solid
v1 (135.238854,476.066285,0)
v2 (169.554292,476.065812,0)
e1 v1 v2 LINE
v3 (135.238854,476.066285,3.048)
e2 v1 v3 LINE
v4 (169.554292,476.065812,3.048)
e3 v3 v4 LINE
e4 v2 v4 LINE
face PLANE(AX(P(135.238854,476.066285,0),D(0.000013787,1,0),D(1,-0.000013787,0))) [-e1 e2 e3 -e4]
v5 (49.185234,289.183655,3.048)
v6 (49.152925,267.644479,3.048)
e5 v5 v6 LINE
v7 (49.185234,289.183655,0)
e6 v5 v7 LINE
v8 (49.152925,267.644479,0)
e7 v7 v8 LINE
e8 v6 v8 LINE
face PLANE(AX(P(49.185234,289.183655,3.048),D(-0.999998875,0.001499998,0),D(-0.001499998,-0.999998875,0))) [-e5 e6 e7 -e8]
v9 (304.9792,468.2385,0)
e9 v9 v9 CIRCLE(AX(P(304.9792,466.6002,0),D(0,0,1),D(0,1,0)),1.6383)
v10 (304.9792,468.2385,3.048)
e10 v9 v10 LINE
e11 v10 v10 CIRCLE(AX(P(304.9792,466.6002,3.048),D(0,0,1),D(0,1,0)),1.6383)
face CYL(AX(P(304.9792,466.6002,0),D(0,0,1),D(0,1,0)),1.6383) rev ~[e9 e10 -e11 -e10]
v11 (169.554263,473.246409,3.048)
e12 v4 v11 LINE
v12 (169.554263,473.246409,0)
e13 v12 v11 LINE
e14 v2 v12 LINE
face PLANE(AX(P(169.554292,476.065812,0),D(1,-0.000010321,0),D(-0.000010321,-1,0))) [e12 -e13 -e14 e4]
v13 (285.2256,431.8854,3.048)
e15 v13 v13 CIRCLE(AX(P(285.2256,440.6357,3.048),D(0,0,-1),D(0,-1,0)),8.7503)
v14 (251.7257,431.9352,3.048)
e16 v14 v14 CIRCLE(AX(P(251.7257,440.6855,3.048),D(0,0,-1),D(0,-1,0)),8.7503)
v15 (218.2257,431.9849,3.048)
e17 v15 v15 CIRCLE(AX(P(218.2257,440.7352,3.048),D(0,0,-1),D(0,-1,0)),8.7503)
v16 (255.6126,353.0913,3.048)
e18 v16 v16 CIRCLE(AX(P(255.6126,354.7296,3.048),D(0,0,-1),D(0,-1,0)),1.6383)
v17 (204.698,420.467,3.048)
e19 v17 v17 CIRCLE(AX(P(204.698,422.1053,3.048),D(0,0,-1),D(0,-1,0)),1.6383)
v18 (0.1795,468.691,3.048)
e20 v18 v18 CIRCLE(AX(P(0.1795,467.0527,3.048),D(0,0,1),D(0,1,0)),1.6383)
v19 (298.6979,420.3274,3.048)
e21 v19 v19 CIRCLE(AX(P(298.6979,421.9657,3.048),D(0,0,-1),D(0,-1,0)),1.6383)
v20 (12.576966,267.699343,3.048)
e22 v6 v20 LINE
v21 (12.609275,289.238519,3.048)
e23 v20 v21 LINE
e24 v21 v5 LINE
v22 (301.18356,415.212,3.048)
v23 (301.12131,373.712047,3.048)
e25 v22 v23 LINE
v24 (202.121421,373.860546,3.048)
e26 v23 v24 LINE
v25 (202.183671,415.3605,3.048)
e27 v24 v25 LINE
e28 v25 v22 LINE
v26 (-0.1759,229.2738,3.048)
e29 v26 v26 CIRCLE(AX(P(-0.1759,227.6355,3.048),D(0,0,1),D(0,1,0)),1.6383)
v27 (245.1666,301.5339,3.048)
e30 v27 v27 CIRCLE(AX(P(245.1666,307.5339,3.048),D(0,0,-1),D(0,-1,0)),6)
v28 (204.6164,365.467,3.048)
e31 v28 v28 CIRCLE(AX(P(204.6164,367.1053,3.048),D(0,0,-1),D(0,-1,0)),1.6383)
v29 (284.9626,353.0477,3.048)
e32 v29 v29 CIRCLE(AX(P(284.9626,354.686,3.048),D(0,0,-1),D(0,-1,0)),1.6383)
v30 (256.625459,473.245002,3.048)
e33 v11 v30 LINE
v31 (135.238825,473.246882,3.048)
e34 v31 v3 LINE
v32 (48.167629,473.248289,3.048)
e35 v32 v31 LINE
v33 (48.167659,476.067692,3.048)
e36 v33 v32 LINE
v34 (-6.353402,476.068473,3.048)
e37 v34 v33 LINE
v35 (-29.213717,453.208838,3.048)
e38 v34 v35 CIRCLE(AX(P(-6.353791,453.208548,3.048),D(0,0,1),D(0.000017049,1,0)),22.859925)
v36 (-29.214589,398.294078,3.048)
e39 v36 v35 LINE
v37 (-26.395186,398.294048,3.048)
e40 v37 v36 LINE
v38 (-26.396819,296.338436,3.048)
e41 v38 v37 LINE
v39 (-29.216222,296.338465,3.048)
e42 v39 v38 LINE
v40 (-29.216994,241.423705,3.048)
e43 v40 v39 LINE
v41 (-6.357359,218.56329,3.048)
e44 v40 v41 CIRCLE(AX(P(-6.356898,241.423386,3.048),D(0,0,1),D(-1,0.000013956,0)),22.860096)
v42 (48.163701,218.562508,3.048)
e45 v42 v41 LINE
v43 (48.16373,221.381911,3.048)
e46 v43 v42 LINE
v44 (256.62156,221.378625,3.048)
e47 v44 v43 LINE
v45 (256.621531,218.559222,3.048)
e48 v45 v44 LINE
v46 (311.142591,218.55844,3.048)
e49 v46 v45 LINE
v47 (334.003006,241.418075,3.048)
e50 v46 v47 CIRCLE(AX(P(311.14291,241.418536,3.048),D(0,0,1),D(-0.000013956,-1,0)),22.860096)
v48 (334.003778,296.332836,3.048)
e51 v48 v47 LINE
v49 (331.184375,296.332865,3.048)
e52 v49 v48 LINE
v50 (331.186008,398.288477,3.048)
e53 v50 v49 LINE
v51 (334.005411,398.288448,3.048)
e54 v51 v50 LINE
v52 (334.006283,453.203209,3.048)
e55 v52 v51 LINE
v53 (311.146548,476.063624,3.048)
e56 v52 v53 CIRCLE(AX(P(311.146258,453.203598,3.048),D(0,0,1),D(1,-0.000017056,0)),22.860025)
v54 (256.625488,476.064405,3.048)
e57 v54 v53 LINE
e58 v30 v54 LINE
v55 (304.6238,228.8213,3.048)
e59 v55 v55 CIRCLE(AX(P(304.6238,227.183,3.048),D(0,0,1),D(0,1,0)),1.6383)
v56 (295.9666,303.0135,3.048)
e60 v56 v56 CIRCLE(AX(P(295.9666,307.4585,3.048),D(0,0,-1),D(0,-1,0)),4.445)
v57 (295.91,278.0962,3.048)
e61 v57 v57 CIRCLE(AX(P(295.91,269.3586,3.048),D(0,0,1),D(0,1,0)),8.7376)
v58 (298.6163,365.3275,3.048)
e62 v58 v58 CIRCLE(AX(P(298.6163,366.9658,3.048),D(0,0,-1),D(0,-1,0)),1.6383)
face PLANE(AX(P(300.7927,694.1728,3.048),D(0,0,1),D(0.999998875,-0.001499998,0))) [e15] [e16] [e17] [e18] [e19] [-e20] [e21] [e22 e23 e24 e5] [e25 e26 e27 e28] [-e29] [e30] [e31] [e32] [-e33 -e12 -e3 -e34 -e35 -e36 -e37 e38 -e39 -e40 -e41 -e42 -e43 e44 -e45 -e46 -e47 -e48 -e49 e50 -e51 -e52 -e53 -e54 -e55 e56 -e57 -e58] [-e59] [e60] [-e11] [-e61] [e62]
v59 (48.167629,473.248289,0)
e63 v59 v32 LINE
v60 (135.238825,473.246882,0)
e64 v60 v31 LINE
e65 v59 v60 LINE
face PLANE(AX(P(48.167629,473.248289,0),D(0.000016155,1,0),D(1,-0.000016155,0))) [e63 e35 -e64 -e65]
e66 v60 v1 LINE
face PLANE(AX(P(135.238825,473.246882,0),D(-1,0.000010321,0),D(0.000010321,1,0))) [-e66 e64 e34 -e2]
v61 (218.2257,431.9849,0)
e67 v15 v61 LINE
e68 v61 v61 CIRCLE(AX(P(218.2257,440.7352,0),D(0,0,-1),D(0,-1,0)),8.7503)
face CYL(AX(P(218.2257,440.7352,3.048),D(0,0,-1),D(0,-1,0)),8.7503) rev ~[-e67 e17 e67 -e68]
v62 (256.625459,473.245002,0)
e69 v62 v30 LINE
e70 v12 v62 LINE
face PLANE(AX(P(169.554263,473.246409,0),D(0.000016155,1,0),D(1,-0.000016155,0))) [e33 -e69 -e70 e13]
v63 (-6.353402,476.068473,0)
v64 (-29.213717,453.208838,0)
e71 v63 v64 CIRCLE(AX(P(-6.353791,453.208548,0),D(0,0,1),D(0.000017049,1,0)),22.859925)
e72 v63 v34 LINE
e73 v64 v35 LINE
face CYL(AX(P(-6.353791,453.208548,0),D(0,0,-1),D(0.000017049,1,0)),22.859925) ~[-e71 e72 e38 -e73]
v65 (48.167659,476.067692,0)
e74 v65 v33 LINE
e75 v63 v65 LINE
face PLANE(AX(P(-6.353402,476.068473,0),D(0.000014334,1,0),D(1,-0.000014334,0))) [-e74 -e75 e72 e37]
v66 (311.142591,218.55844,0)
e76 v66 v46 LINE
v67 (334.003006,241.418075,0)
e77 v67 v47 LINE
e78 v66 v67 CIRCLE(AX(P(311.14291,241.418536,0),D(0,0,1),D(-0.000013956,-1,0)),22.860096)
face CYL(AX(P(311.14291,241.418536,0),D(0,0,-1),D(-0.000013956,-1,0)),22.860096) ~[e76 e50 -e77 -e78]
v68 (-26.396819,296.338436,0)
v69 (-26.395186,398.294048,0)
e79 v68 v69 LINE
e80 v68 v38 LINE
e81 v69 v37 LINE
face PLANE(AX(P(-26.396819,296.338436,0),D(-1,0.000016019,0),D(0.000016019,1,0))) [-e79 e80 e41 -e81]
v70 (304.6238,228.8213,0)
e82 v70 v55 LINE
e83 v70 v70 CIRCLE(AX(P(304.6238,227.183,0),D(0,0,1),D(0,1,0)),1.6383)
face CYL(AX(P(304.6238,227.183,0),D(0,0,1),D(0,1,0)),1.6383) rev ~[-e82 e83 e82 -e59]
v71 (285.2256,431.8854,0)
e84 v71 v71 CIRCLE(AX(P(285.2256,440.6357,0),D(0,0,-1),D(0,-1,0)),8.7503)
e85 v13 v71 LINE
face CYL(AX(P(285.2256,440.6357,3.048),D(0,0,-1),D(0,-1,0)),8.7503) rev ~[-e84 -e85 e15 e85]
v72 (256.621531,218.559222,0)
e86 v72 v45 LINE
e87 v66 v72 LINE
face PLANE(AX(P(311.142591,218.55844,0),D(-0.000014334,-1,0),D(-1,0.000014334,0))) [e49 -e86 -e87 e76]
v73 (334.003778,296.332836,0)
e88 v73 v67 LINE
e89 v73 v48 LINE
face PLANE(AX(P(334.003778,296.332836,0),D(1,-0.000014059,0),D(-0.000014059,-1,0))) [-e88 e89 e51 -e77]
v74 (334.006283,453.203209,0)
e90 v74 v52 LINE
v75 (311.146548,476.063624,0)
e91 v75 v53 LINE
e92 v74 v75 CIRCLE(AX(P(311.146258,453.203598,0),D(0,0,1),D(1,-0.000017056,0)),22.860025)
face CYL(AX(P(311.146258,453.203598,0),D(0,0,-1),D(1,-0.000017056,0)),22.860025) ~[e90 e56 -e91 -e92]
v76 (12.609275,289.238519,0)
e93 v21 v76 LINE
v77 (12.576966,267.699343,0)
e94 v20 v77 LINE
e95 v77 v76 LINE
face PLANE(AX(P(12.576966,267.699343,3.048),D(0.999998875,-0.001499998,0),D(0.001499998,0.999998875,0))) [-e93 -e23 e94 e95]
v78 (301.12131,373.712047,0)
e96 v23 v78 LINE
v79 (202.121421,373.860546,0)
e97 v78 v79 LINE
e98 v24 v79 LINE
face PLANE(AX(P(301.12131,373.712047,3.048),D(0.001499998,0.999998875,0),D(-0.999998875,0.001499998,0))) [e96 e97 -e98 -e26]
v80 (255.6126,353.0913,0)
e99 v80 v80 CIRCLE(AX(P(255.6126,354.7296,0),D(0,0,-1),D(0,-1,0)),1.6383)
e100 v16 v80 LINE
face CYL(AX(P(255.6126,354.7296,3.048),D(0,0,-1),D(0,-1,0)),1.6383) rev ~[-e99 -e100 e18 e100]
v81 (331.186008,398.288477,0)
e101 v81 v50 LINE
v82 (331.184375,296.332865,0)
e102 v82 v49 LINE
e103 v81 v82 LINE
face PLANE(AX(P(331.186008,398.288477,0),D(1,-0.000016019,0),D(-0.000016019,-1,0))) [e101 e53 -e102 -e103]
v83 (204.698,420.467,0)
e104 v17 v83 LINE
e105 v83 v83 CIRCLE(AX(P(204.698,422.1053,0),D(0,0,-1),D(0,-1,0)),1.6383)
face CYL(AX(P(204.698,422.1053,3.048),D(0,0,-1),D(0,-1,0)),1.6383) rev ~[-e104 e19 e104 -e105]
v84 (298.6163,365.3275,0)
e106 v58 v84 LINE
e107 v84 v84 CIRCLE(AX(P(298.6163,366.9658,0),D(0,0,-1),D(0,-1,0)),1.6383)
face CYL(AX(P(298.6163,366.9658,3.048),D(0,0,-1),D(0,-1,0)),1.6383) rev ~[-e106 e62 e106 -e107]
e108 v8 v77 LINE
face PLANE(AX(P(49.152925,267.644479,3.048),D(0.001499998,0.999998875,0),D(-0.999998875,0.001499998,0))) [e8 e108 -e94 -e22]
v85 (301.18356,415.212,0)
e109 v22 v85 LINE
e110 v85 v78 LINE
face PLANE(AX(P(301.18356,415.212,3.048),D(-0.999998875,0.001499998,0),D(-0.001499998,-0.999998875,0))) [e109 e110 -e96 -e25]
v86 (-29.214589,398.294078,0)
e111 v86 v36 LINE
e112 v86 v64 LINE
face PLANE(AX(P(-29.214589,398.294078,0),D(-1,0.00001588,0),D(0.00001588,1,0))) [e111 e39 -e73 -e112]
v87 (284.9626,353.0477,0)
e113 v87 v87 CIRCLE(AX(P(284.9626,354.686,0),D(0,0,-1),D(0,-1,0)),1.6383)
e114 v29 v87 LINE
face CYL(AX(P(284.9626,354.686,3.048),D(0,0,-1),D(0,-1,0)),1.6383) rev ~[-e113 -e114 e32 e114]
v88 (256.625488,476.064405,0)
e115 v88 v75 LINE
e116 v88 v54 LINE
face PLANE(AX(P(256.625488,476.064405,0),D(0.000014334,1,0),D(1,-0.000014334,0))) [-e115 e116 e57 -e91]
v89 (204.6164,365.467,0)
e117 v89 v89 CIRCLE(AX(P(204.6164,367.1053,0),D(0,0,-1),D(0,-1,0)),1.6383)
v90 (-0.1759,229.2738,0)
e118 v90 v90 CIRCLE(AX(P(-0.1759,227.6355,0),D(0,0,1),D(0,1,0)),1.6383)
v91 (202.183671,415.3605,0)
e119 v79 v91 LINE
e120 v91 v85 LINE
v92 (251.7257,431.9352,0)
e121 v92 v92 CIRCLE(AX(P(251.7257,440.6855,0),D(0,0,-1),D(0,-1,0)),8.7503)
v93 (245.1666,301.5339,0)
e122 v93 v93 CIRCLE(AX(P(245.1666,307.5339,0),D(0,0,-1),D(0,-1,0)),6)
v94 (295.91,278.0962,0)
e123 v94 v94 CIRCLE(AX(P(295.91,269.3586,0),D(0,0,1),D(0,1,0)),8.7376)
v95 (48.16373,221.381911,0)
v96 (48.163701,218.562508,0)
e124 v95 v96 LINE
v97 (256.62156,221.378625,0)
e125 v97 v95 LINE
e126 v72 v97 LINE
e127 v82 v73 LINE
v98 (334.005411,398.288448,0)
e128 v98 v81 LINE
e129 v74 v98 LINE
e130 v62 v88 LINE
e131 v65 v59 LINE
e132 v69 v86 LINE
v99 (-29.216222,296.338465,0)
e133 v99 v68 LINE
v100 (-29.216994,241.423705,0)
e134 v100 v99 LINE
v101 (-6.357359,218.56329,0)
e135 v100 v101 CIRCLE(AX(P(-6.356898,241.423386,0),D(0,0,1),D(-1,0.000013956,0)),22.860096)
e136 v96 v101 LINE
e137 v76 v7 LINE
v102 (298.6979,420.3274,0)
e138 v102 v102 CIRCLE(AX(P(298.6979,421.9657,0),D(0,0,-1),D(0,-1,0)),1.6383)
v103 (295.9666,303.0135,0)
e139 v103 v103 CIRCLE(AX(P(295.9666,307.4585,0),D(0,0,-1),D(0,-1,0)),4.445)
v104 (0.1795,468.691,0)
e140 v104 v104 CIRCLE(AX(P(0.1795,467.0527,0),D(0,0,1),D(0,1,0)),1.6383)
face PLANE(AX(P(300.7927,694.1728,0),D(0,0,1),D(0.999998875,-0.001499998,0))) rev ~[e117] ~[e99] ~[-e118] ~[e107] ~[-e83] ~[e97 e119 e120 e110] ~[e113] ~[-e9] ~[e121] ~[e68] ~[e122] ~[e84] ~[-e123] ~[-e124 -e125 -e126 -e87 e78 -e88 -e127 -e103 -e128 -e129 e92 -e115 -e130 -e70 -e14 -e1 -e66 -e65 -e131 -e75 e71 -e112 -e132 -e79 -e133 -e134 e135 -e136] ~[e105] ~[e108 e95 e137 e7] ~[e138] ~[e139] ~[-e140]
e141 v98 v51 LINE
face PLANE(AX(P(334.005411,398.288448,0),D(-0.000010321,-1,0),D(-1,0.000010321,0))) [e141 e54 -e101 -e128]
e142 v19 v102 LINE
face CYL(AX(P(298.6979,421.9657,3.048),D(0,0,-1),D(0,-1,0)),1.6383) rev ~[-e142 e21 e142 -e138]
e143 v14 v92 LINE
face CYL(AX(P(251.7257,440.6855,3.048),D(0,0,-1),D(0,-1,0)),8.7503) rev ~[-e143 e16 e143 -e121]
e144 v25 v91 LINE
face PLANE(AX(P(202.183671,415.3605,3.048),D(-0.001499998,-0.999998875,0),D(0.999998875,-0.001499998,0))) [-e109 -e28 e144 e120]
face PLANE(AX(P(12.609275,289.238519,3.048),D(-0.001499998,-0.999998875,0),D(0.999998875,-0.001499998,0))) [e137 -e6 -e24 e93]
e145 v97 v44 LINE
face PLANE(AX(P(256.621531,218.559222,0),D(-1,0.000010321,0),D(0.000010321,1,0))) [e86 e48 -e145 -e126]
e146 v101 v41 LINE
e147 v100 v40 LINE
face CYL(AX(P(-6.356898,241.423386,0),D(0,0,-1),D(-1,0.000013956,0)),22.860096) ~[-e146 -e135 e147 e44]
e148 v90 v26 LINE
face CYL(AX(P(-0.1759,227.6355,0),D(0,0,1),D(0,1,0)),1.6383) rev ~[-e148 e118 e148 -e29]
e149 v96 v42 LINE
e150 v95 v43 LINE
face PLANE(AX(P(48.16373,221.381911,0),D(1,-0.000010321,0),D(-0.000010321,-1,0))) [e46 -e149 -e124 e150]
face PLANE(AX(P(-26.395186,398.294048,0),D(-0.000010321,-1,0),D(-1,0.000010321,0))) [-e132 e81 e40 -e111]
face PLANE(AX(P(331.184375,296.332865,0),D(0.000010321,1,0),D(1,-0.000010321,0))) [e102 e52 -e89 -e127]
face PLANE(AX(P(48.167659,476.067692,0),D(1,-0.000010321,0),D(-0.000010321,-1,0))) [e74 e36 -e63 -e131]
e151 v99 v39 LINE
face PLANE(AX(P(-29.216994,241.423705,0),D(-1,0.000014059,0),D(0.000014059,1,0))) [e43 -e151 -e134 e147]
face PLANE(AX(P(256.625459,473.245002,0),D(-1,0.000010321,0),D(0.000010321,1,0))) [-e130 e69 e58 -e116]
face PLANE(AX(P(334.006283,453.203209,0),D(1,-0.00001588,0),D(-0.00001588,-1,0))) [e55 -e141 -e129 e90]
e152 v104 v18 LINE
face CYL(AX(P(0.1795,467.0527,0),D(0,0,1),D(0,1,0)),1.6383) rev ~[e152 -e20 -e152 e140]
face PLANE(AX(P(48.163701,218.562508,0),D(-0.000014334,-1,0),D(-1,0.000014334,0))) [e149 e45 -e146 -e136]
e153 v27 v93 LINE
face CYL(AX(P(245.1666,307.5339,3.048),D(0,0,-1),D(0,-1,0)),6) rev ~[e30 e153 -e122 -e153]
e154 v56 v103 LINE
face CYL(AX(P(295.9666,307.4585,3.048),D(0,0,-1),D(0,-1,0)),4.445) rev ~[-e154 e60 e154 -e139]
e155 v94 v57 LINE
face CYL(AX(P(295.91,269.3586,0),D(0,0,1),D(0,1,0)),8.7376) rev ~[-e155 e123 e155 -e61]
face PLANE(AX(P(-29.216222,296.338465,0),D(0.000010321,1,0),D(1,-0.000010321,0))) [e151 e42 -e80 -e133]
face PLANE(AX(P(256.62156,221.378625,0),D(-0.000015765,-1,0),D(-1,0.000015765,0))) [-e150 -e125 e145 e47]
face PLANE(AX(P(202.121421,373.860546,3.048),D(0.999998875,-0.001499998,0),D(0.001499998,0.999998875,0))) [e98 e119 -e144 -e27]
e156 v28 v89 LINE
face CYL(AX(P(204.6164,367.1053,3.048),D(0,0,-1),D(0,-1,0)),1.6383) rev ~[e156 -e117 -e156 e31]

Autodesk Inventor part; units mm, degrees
ref_plane "YZ Plane" through (0, 0, 0) normal (1, 0, 0) x (0, 1, 0)
ref_plane "XZ Plane" through (0, 0, 0) normal (0, 1, 0) x (-1, 0, 0)
ref_plane "Work Plane1" through (300.7927, 694.1728, 0) normal (0, 0, 1) x (1, -0.0015, 0)
sketch "Sketch1" plane through (300.7927, 694.1728, 0) normal (0, 0, 1) x (1, -0.0015, 0)
  line L0 (11.0652, -476.8683) -> (-44.7258, -476.9512) construction
  arc A0 (11.0652, -476.8683) -> (35.1594, -452.7025) centre (11.0294, -452.7384) ccw construction
  line L1 (35.0759, -396.5178) -> (35.1594, -452.7025) construction
  line L2 (32.2566, -396.522) -> (35.0759, -396.5178) construction
  line L3 (32.109, -297.1065) -> (32.2566, -396.522) construction
  line L4 (34.9284, -297.1023) -> (32.109, -297.1065) construction
  line L5 (34.845, -240.9176) -> (34.9284, -297.1023) construction
  arc A1 (34.845, -240.9176) -> (10.6792, -216.8234) centre (10.715, -240.9534) ccw construction
  line L6 (-45.1119, -216.9062) -> (10.6792, -216.8234) construction
  line L7 (-45.1077, -219.7256) -> (-45.1119, -216.9062) construction
  line L8 (-129.6388, -219.8511) -> (-45.1077, -219.7256) construction
  line L9 (-129.643, -217.0317) -> (-129.6388, -219.8511) construction
  line L10 (-166.4983, -217.0864) -> (-129.643, -217.0317) construction
  line L11 (-166.4942, -219.9058) -> (-166.4983, -217.0864) construction
  line L12 (-251.0253, -220.0313) -> (-166.4942, -219.9058) construction
  line L13 (-251.0295, -217.2119) -> (-251.0253, -220.0313) construction
  line L14 (-306.8205, -217.2948) -> (-251.0295, -217.2119) construction
  arc A2 (-306.8205, -217.2948) -> (-330.9146, -241.4606) centre (-306.7847, -241.4247) ccw construction
  line L15 (-330.8312, -297.6453) -> (-330.9146, -241.4606) construction
  line L16 (-328.0118, -297.6411) -> (-330.8312, -297.6453) construction
  line L17 (-327.8643, -397.0566) -> (-328.0118, -297.6411) construction
  line L18 (-330.6836, -397.0608) -> (-327.8643, -397.0566) construction
  line L19 (-330.6002, -453.2455) -> (-330.6836, -397.0608) construction
  arc A3 (-330.6002, -453.2455) -> (-306.4344, -477.3397) centre (-306.4703, -453.2097) ccw construction
  line L20 (-250.6434, -477.2569) -> (-306.4344, -477.3397) construction
  line L21 (-250.6476, -474.4375) -> (-250.6434, -477.2569) construction
  line L22 (-44.73, -474.1318) -> (-250.6476, -474.4375) construction
  line L23 (-44.7258, -476.9512) -> (-44.73, -474.1318) construction
  circle A4 centre (4.6999, -466.5639) radius 1.0795 construction
  circle A5 centre (-300.0998, -467.0164) radius 1.0795 construction
  circle A6 centre (-300.4552, -227.5992) radius 1.0795 construction
  circle A7 centre (4.3445, -227.1467) radius 1.0795 construction
  line L24 (-251.9195, -473.1693) -> (-251.9153, -475.9887)
  line L25 (-251.9153, -475.9887) -> (-306.4363, -476.0697)
  arc A8 (-329.3302, -453.2436) -> (-306.4363, -476.0697) centre (-306.4703, -453.2097) ccw
  line L26 (-329.3302, -453.2436) -> (-329.4118, -398.3289)
  line L27 (-329.4118, -398.3289) -> (-326.5924, -398.3247)
  line L28 (-326.5924, -398.3247) -> (-326.7437, -296.3692)
  line L29 (-326.7437, -296.3692) -> (-329.5631, -296.3734)
  line L30 (-329.5631, -296.3734) -> (-329.6446, -241.4587)
  arc A9 (-306.8186, -218.5648) -> (-329.6446, -241.4587) centre (-306.7847, -241.4247) ccw
  line L31 (-306.8186, -218.5648) -> (-252.2976, -218.4838)
  line L32 (-252.2976, -218.4838) -> (-252.2934, -221.3032)
  line L33 (-252.2934, -221.3032) -> (-165.2223, -221.174)
  line L34 (-165.2223, -221.174) -> (-165.2265, -218.3546)
  line L35 (-165.2265, -218.3546) -> (-130.9111, -218.3036)
  line L36 (-130.9111, -218.3036) -> (-130.9069, -221.123)
  line L37 (-130.9069, -221.123) -> (-43.8358, -220.9938)
  line L38 (-43.8358, -220.9938) -> (-43.84, -218.1744)
  line L39 (-43.84, -218.1744) -> (10.681, -218.0934)
  arc A10 (33.575, -240.9195) -> (10.681, -218.0934) centre (10.715, -240.9534) ccw
  line L40 (33.575, -240.9195) -> (33.6565, -295.8342)
  line L41 (33.6565, -295.8342) -> (30.8371, -295.8384)
  line L42 (30.8371, -295.8384) -> (30.9884, -397.7939)
  line L43 (30.9884, -397.7939) -> (33.8078, -397.7897)
  line L44 (33.8078, -397.7897) -> (33.8894, -452.7044)
  arc A11 (11.0633, -475.5983) -> (33.8894, -452.7044) centre (11.0294, -452.7384) ccw
  line L45 (11.0633, -475.5983) -> (-43.4577, -475.6793)
  line L46 (-43.4577, -475.6793) -> (-43.4619, -472.8599)
  line L47 (-43.4619, -472.8599) -> (-251.9195, -473.1693)
  dimension "d32" = 1.27
extrude "Plate1" add sketch "Sketch1" along normal blind 3.048
sketch "Sketch3" plane through (300.7927, 694.1728, 0) normal (0, 0, -1) x (-1, 0.0015, 0)
  circle A0 centre (300.2757, -466.9836) radius 1.0795 construction
  circle A1 centre (-4.5243, -466.9836) radius 1.0795 construction
  circle A2 centre (-4.5243, -227.5661) radius 1.0795 construction
  circle A3 centre (300.2757, -227.5661) radius 1.0795 construction
  line L0 (-4.5243, -227.5661) -> (300.2757, -227.5661) construction
  line L1 (300.2757, -227.5661) -> (300.2757, -466.9836) construction
  line L2 (300.2757, -466.9836) -> (-4.5243, -466.9836) construction
  line L3 (-4.5243, -466.9836) -> (-4.5243, -227.5661) construction
  line L4 (326.5924, -398.3247) -> (326.7437, -296.3692) construction
  line L5 (326.668, -347.347) -> (300.2757, -347.2749) construction
  line L6 (43.4619, -472.8599) -> (251.9195, -473.1693) construction
  line L7 (165.2265, -218.3546) -> (130.9111, -218.3036) construction
  line L8 (-4.5243, -347.2749) -> (-30.9128, -346.8161) construction
  line L9 (-30.8371, -295.8384) -> (-30.9884, -397.7939) construction
  point P0 (152.4, -347.3112)
  dimension "d2" = 304.8
  dimension "d3" = 239.4175
hole "Mounting_Holes" at (0.1795, 467.0527, 0) at (-0.1759, 227.6355, 0) at (304.6238, 227.183, 0) at (304.9792, 466.6002, 0) direction (0, 0, 1) diameter 3.2766 end through all clearance for "Flat Head Machine Screw (82)" size "#4" standard "Ansi Unified Screw Threads"
sketch "Sketch4" plane through (300.7927, 694.1728, 0) normal (0, 0, -1) x (-1, 0.0015, 0)
  circle A0 centre (4.2521, -424.821) radius 10.541 construction
  line L0 (-33.575, -240.9195) -> (-33.6565, -295.8342) projected
  line L1 (43.84, -218.1744) -> (-10.681, -218.0934) projected
  line L2 (-11.0633, -475.5983) -> (43.4577, -475.6793) projected
  dimension "d11" = 21.082
  dimension "d33" = 38.1
  dimension "d86" = 50.8
hole "Power_Connector" at (295.91, 269.3586, 0) direction (0, 0, 1) diameter 17.4752 end through all thread size "1/2" designation "1/2 - 14 NPT" standard "NPT for PVC Pipe and Fitting"
sketch "Sketch7" plane through (300.7927, 694.1728, 3.048) normal (0, 0, 1) x (1, -0.0015, 0)
  line L0 (0.8093, -320.4599) -> (-98.1907, -320.4599)
  line L1 (-98.1907, -320.4599) -> (-98.1907, -278.9599)
  line L2 (-98.1907, -278.9599) -> (0.8093, -278.9599)
  line L3 (0.8093, -278.9599) -> (0.8093, -320.4599)
  line L4 (-165.2265, -218.3546) -> (-130.9111, -218.3036) construction
  line L5 (-43.4619, -472.8599) -> (-251.9195, -473.1693) construction
  line L6 (-43.4619, -472.8599) -> (-251.9195, -473.1693) construction
  line L7 (-147.6907, -473.0146) -> (-147.7272, -448.3951) construction
  point P0 (-299.7619, -694.6186)
  dimension "d40" = 99
  dimension "d41" = 41.5
  dimension "d80" = 152.4
  dimension "d81" = 49.5
extrude "LCD_Cutout" cut sketch "Sketch7" against normal through all
sketch "Sketch8" plane through (300.7927, 694.1728, 3.048) normal (0, 0, 1) x (1, -0.0015, 0)
  line L0 (-1.6907, -327.2099) -> (-95.6907, -327.2099) construction
  line L1 (-95.6907, -327.2099) -> (-95.6907, -272.2099) construction
  line L2 (-95.6907, -272.2099) -> (-1.6907, -272.2099) construction
  line L3 (-1.6907, -272.2099) -> (-1.6907, -327.2099) construction
  line L4 (-48.6907, -327.2099) -> (-48.6907, -320.4599) construction
  line L5 (0.8093, -320.4599) -> (-98.1907, -320.4599) construction
  line L6 (-98.1907, -278.9599) -> (0.8093, -278.9599) construction
  line L7 (-48.6907, -278.9599) -> (-48.6907, -272.2099) construction
  point P0 (-299.7619, -694.6186)
  dimension "d45" = 94
  dimension "d46" = 55
hole "LCD_Holes" at (298.6163, 366.9658, 3.048) at (204.6164, 367.1053, 3.048) at (204.698, 422.1053, 3.048) at (298.6979, 421.9657, 3.048) direction (0, 0, -1) diameter 3.2766 end through all clearance for "Socket Head Cap Screw" size "#4" standard "Ansi Unified Screw Threads"
sketch "Sketch9" plane through (300.7927, 694.1728, 3.048) normal (0, 0, 1) x (1, -0.0015, 0)
  circle A0 centre (-4.2521, -424.821) radius 9.0607 projected
  line L0 (30.8371, -295.8384) -> (30.9884, -397.7939) projected
  point P0 (-299.7619, -694.6186)
  point P1 (-55.0521, -386.721)
  dimension "d84" = 50.8
  dimension "d85" = 38.1
hole "Pickle_Switch" at (245.1666, 307.5339, 3.048) direction (0, 0, -1) diameter 12 end through all
sketch "Sketch10" plane through (300.7927, 694.1728, 3.048) normal (0, 0, 1) x (1, -0.0015, 0)
  line L0 (-15.1907, -253.5599) -> (-82.1907, -253.5599) construction
  line L1 (-98.1907, -278.9599) -> (0.8093, -278.9599) construction
  line L2 (-48.6907, -278.9599) -> (-48.6907, -253.5599) construction
  line L3 (0.8093, -278.9599) -> (0.8093, -320.4599) construction
  point P0 (-299.7619, -694.6186)
  dimension "d62" = 16
  dimension "d63" = 25.4
hole "Pushbuttons" at (285.2256, 440.6357, 3.048) at (251.7257, 440.6855, 3.048) at (218.2257, 440.7352, 3.048) direction (0, 0, -1) diameter 17.5006 end through all clearance for "Hex Head Cap Screw ISO 24017" size "M16" standard "ISO"
sketch "Sketch11" plane through (300.7927, 694.1728, 3.048) normal (0, 0, 1) x (1, -0.0015, 0)
  circle A0 centre (-4.2521, -424.821) radius 9.0607 construction
  circle A1 centre (-55.0521, -386.721) radius 6 construction
  line L0 (-4.2521, -424.821) -> (-4.2521, -386.721) construction
  point P0 (-299.7619, -694.6186)
  dimension "d71" = 38.1
hole "Air_Coupler" at (295.9666, 307.4585, 3.048) direction (0, 0, -1) diameter 8.89 depth 3.048 tip angle 118
sketch "Sketch12" plane through (300.7927, 694.1728, 3.048) normal (0, 0, 1) x (1, -0.0015, 0)
  line L0 (-250.9997, -426.9053) -> (-287.5757, -426.9053)
  line L1 (-287.5757, -426.9053) -> (-287.5757, -405.3661)
  line L2 (-287.5757, -405.3661) -> (-250.9997, -405.3661)
  line L3 (-250.9997, -405.3661) -> (-250.9997, -426.9053)
  circle A0 centre (-300.2757, -227.5661) radius 1.6383 construction
  point P0 (-299.7619, -694.6186)
  dimension "d87" = 36.576
  dimension "d88" = 21.5392
  dimension "d89" = 177.8
  dimension "d90" = 12.7
extrude "Powerpole_Cutout" cut sketch "Sketch12" against normal blind 3.048
sketch "Sketch13" plane through (300.7927, 694.1728, 3.048) normal (0, 0, 1) x (1, -0.0015, 0)
  line L0 (-15.3261, -339.5099) -> (-44.6761, -339.5099) construction
  line L1 (30.8371, -295.8384) -> (30.9884, -397.7939) construction
  line L2 (0.8093, -320.4599) -> (-98.1907, -320.4599) construction
  point P0 (-299.7619, -694.6186)
  dimension "d93" = 46.228
  dimension "d94" = 29.35
  dimension "d95" = 19.05
hole "Fan Bracket" at (284.9626, 354.686, 3.048) at (255.6126, 354.7296, 3.048) direction (0, 0, -1) diameter 3.2766 end through all clearance for "Socket Head Cap Screw" size "#4" standard "Ansi Unified Screw Threads"
equation "\"d9\" = Thickness"
equation "\"d43\" = Thickness"
equation "\"d45\" = LCD_PCB_Horizontal_Hole_Spacing"
equation "\"d46\" = LCD_PCB_Vertical_Hole_Spacing"
equation "\"d47\" = LCD_Cover_Hole_Diameter"
equation "\"d60\" = Thickness"
equation "\"d69\" = Thickness"
equation "\"d77\" = Thickness"
equation "\"d91\" = Thickness"
equation "\"d94\" = Bracket_Hole_Spacing"
equation "\"d101\" = Thickness"
equation "\"d81\" = 0.5 * d40"
equation "\"BendRadius\" = Thickness"
equation "\"BendReliefWidth\" = Thickness"
equation "\"BendReliefDepth\" = 0.5 * Thickness"
equation "\"CornerReliefSize\" = 4 * Thickness"
equation "\"MinimumRemnant\" = 2 * Thickness"
equation "\"TransitionRadius\" = BendRadius"
equation "\"JacobiRadiusSize\" = BendRadius"
equation "\"GapSize\" = Thickness"
equation "\"d1\" = BendRadius"
equation "\"Thickness\" = 3.048"
equation "\"LCD_PCB_Horizontal_Hole_Spacing\" = 94"
equation "\"LCD_PCB_Vertical_Hole_Spacing\" = 55"
equation "\"LCD_Cover_Hole_Diameter\" = 3.2766"
equation "\"Bracket_Hole_Spacing\" = 29.35"
properties part number "Panel" material "Acetal Resin, Black"
